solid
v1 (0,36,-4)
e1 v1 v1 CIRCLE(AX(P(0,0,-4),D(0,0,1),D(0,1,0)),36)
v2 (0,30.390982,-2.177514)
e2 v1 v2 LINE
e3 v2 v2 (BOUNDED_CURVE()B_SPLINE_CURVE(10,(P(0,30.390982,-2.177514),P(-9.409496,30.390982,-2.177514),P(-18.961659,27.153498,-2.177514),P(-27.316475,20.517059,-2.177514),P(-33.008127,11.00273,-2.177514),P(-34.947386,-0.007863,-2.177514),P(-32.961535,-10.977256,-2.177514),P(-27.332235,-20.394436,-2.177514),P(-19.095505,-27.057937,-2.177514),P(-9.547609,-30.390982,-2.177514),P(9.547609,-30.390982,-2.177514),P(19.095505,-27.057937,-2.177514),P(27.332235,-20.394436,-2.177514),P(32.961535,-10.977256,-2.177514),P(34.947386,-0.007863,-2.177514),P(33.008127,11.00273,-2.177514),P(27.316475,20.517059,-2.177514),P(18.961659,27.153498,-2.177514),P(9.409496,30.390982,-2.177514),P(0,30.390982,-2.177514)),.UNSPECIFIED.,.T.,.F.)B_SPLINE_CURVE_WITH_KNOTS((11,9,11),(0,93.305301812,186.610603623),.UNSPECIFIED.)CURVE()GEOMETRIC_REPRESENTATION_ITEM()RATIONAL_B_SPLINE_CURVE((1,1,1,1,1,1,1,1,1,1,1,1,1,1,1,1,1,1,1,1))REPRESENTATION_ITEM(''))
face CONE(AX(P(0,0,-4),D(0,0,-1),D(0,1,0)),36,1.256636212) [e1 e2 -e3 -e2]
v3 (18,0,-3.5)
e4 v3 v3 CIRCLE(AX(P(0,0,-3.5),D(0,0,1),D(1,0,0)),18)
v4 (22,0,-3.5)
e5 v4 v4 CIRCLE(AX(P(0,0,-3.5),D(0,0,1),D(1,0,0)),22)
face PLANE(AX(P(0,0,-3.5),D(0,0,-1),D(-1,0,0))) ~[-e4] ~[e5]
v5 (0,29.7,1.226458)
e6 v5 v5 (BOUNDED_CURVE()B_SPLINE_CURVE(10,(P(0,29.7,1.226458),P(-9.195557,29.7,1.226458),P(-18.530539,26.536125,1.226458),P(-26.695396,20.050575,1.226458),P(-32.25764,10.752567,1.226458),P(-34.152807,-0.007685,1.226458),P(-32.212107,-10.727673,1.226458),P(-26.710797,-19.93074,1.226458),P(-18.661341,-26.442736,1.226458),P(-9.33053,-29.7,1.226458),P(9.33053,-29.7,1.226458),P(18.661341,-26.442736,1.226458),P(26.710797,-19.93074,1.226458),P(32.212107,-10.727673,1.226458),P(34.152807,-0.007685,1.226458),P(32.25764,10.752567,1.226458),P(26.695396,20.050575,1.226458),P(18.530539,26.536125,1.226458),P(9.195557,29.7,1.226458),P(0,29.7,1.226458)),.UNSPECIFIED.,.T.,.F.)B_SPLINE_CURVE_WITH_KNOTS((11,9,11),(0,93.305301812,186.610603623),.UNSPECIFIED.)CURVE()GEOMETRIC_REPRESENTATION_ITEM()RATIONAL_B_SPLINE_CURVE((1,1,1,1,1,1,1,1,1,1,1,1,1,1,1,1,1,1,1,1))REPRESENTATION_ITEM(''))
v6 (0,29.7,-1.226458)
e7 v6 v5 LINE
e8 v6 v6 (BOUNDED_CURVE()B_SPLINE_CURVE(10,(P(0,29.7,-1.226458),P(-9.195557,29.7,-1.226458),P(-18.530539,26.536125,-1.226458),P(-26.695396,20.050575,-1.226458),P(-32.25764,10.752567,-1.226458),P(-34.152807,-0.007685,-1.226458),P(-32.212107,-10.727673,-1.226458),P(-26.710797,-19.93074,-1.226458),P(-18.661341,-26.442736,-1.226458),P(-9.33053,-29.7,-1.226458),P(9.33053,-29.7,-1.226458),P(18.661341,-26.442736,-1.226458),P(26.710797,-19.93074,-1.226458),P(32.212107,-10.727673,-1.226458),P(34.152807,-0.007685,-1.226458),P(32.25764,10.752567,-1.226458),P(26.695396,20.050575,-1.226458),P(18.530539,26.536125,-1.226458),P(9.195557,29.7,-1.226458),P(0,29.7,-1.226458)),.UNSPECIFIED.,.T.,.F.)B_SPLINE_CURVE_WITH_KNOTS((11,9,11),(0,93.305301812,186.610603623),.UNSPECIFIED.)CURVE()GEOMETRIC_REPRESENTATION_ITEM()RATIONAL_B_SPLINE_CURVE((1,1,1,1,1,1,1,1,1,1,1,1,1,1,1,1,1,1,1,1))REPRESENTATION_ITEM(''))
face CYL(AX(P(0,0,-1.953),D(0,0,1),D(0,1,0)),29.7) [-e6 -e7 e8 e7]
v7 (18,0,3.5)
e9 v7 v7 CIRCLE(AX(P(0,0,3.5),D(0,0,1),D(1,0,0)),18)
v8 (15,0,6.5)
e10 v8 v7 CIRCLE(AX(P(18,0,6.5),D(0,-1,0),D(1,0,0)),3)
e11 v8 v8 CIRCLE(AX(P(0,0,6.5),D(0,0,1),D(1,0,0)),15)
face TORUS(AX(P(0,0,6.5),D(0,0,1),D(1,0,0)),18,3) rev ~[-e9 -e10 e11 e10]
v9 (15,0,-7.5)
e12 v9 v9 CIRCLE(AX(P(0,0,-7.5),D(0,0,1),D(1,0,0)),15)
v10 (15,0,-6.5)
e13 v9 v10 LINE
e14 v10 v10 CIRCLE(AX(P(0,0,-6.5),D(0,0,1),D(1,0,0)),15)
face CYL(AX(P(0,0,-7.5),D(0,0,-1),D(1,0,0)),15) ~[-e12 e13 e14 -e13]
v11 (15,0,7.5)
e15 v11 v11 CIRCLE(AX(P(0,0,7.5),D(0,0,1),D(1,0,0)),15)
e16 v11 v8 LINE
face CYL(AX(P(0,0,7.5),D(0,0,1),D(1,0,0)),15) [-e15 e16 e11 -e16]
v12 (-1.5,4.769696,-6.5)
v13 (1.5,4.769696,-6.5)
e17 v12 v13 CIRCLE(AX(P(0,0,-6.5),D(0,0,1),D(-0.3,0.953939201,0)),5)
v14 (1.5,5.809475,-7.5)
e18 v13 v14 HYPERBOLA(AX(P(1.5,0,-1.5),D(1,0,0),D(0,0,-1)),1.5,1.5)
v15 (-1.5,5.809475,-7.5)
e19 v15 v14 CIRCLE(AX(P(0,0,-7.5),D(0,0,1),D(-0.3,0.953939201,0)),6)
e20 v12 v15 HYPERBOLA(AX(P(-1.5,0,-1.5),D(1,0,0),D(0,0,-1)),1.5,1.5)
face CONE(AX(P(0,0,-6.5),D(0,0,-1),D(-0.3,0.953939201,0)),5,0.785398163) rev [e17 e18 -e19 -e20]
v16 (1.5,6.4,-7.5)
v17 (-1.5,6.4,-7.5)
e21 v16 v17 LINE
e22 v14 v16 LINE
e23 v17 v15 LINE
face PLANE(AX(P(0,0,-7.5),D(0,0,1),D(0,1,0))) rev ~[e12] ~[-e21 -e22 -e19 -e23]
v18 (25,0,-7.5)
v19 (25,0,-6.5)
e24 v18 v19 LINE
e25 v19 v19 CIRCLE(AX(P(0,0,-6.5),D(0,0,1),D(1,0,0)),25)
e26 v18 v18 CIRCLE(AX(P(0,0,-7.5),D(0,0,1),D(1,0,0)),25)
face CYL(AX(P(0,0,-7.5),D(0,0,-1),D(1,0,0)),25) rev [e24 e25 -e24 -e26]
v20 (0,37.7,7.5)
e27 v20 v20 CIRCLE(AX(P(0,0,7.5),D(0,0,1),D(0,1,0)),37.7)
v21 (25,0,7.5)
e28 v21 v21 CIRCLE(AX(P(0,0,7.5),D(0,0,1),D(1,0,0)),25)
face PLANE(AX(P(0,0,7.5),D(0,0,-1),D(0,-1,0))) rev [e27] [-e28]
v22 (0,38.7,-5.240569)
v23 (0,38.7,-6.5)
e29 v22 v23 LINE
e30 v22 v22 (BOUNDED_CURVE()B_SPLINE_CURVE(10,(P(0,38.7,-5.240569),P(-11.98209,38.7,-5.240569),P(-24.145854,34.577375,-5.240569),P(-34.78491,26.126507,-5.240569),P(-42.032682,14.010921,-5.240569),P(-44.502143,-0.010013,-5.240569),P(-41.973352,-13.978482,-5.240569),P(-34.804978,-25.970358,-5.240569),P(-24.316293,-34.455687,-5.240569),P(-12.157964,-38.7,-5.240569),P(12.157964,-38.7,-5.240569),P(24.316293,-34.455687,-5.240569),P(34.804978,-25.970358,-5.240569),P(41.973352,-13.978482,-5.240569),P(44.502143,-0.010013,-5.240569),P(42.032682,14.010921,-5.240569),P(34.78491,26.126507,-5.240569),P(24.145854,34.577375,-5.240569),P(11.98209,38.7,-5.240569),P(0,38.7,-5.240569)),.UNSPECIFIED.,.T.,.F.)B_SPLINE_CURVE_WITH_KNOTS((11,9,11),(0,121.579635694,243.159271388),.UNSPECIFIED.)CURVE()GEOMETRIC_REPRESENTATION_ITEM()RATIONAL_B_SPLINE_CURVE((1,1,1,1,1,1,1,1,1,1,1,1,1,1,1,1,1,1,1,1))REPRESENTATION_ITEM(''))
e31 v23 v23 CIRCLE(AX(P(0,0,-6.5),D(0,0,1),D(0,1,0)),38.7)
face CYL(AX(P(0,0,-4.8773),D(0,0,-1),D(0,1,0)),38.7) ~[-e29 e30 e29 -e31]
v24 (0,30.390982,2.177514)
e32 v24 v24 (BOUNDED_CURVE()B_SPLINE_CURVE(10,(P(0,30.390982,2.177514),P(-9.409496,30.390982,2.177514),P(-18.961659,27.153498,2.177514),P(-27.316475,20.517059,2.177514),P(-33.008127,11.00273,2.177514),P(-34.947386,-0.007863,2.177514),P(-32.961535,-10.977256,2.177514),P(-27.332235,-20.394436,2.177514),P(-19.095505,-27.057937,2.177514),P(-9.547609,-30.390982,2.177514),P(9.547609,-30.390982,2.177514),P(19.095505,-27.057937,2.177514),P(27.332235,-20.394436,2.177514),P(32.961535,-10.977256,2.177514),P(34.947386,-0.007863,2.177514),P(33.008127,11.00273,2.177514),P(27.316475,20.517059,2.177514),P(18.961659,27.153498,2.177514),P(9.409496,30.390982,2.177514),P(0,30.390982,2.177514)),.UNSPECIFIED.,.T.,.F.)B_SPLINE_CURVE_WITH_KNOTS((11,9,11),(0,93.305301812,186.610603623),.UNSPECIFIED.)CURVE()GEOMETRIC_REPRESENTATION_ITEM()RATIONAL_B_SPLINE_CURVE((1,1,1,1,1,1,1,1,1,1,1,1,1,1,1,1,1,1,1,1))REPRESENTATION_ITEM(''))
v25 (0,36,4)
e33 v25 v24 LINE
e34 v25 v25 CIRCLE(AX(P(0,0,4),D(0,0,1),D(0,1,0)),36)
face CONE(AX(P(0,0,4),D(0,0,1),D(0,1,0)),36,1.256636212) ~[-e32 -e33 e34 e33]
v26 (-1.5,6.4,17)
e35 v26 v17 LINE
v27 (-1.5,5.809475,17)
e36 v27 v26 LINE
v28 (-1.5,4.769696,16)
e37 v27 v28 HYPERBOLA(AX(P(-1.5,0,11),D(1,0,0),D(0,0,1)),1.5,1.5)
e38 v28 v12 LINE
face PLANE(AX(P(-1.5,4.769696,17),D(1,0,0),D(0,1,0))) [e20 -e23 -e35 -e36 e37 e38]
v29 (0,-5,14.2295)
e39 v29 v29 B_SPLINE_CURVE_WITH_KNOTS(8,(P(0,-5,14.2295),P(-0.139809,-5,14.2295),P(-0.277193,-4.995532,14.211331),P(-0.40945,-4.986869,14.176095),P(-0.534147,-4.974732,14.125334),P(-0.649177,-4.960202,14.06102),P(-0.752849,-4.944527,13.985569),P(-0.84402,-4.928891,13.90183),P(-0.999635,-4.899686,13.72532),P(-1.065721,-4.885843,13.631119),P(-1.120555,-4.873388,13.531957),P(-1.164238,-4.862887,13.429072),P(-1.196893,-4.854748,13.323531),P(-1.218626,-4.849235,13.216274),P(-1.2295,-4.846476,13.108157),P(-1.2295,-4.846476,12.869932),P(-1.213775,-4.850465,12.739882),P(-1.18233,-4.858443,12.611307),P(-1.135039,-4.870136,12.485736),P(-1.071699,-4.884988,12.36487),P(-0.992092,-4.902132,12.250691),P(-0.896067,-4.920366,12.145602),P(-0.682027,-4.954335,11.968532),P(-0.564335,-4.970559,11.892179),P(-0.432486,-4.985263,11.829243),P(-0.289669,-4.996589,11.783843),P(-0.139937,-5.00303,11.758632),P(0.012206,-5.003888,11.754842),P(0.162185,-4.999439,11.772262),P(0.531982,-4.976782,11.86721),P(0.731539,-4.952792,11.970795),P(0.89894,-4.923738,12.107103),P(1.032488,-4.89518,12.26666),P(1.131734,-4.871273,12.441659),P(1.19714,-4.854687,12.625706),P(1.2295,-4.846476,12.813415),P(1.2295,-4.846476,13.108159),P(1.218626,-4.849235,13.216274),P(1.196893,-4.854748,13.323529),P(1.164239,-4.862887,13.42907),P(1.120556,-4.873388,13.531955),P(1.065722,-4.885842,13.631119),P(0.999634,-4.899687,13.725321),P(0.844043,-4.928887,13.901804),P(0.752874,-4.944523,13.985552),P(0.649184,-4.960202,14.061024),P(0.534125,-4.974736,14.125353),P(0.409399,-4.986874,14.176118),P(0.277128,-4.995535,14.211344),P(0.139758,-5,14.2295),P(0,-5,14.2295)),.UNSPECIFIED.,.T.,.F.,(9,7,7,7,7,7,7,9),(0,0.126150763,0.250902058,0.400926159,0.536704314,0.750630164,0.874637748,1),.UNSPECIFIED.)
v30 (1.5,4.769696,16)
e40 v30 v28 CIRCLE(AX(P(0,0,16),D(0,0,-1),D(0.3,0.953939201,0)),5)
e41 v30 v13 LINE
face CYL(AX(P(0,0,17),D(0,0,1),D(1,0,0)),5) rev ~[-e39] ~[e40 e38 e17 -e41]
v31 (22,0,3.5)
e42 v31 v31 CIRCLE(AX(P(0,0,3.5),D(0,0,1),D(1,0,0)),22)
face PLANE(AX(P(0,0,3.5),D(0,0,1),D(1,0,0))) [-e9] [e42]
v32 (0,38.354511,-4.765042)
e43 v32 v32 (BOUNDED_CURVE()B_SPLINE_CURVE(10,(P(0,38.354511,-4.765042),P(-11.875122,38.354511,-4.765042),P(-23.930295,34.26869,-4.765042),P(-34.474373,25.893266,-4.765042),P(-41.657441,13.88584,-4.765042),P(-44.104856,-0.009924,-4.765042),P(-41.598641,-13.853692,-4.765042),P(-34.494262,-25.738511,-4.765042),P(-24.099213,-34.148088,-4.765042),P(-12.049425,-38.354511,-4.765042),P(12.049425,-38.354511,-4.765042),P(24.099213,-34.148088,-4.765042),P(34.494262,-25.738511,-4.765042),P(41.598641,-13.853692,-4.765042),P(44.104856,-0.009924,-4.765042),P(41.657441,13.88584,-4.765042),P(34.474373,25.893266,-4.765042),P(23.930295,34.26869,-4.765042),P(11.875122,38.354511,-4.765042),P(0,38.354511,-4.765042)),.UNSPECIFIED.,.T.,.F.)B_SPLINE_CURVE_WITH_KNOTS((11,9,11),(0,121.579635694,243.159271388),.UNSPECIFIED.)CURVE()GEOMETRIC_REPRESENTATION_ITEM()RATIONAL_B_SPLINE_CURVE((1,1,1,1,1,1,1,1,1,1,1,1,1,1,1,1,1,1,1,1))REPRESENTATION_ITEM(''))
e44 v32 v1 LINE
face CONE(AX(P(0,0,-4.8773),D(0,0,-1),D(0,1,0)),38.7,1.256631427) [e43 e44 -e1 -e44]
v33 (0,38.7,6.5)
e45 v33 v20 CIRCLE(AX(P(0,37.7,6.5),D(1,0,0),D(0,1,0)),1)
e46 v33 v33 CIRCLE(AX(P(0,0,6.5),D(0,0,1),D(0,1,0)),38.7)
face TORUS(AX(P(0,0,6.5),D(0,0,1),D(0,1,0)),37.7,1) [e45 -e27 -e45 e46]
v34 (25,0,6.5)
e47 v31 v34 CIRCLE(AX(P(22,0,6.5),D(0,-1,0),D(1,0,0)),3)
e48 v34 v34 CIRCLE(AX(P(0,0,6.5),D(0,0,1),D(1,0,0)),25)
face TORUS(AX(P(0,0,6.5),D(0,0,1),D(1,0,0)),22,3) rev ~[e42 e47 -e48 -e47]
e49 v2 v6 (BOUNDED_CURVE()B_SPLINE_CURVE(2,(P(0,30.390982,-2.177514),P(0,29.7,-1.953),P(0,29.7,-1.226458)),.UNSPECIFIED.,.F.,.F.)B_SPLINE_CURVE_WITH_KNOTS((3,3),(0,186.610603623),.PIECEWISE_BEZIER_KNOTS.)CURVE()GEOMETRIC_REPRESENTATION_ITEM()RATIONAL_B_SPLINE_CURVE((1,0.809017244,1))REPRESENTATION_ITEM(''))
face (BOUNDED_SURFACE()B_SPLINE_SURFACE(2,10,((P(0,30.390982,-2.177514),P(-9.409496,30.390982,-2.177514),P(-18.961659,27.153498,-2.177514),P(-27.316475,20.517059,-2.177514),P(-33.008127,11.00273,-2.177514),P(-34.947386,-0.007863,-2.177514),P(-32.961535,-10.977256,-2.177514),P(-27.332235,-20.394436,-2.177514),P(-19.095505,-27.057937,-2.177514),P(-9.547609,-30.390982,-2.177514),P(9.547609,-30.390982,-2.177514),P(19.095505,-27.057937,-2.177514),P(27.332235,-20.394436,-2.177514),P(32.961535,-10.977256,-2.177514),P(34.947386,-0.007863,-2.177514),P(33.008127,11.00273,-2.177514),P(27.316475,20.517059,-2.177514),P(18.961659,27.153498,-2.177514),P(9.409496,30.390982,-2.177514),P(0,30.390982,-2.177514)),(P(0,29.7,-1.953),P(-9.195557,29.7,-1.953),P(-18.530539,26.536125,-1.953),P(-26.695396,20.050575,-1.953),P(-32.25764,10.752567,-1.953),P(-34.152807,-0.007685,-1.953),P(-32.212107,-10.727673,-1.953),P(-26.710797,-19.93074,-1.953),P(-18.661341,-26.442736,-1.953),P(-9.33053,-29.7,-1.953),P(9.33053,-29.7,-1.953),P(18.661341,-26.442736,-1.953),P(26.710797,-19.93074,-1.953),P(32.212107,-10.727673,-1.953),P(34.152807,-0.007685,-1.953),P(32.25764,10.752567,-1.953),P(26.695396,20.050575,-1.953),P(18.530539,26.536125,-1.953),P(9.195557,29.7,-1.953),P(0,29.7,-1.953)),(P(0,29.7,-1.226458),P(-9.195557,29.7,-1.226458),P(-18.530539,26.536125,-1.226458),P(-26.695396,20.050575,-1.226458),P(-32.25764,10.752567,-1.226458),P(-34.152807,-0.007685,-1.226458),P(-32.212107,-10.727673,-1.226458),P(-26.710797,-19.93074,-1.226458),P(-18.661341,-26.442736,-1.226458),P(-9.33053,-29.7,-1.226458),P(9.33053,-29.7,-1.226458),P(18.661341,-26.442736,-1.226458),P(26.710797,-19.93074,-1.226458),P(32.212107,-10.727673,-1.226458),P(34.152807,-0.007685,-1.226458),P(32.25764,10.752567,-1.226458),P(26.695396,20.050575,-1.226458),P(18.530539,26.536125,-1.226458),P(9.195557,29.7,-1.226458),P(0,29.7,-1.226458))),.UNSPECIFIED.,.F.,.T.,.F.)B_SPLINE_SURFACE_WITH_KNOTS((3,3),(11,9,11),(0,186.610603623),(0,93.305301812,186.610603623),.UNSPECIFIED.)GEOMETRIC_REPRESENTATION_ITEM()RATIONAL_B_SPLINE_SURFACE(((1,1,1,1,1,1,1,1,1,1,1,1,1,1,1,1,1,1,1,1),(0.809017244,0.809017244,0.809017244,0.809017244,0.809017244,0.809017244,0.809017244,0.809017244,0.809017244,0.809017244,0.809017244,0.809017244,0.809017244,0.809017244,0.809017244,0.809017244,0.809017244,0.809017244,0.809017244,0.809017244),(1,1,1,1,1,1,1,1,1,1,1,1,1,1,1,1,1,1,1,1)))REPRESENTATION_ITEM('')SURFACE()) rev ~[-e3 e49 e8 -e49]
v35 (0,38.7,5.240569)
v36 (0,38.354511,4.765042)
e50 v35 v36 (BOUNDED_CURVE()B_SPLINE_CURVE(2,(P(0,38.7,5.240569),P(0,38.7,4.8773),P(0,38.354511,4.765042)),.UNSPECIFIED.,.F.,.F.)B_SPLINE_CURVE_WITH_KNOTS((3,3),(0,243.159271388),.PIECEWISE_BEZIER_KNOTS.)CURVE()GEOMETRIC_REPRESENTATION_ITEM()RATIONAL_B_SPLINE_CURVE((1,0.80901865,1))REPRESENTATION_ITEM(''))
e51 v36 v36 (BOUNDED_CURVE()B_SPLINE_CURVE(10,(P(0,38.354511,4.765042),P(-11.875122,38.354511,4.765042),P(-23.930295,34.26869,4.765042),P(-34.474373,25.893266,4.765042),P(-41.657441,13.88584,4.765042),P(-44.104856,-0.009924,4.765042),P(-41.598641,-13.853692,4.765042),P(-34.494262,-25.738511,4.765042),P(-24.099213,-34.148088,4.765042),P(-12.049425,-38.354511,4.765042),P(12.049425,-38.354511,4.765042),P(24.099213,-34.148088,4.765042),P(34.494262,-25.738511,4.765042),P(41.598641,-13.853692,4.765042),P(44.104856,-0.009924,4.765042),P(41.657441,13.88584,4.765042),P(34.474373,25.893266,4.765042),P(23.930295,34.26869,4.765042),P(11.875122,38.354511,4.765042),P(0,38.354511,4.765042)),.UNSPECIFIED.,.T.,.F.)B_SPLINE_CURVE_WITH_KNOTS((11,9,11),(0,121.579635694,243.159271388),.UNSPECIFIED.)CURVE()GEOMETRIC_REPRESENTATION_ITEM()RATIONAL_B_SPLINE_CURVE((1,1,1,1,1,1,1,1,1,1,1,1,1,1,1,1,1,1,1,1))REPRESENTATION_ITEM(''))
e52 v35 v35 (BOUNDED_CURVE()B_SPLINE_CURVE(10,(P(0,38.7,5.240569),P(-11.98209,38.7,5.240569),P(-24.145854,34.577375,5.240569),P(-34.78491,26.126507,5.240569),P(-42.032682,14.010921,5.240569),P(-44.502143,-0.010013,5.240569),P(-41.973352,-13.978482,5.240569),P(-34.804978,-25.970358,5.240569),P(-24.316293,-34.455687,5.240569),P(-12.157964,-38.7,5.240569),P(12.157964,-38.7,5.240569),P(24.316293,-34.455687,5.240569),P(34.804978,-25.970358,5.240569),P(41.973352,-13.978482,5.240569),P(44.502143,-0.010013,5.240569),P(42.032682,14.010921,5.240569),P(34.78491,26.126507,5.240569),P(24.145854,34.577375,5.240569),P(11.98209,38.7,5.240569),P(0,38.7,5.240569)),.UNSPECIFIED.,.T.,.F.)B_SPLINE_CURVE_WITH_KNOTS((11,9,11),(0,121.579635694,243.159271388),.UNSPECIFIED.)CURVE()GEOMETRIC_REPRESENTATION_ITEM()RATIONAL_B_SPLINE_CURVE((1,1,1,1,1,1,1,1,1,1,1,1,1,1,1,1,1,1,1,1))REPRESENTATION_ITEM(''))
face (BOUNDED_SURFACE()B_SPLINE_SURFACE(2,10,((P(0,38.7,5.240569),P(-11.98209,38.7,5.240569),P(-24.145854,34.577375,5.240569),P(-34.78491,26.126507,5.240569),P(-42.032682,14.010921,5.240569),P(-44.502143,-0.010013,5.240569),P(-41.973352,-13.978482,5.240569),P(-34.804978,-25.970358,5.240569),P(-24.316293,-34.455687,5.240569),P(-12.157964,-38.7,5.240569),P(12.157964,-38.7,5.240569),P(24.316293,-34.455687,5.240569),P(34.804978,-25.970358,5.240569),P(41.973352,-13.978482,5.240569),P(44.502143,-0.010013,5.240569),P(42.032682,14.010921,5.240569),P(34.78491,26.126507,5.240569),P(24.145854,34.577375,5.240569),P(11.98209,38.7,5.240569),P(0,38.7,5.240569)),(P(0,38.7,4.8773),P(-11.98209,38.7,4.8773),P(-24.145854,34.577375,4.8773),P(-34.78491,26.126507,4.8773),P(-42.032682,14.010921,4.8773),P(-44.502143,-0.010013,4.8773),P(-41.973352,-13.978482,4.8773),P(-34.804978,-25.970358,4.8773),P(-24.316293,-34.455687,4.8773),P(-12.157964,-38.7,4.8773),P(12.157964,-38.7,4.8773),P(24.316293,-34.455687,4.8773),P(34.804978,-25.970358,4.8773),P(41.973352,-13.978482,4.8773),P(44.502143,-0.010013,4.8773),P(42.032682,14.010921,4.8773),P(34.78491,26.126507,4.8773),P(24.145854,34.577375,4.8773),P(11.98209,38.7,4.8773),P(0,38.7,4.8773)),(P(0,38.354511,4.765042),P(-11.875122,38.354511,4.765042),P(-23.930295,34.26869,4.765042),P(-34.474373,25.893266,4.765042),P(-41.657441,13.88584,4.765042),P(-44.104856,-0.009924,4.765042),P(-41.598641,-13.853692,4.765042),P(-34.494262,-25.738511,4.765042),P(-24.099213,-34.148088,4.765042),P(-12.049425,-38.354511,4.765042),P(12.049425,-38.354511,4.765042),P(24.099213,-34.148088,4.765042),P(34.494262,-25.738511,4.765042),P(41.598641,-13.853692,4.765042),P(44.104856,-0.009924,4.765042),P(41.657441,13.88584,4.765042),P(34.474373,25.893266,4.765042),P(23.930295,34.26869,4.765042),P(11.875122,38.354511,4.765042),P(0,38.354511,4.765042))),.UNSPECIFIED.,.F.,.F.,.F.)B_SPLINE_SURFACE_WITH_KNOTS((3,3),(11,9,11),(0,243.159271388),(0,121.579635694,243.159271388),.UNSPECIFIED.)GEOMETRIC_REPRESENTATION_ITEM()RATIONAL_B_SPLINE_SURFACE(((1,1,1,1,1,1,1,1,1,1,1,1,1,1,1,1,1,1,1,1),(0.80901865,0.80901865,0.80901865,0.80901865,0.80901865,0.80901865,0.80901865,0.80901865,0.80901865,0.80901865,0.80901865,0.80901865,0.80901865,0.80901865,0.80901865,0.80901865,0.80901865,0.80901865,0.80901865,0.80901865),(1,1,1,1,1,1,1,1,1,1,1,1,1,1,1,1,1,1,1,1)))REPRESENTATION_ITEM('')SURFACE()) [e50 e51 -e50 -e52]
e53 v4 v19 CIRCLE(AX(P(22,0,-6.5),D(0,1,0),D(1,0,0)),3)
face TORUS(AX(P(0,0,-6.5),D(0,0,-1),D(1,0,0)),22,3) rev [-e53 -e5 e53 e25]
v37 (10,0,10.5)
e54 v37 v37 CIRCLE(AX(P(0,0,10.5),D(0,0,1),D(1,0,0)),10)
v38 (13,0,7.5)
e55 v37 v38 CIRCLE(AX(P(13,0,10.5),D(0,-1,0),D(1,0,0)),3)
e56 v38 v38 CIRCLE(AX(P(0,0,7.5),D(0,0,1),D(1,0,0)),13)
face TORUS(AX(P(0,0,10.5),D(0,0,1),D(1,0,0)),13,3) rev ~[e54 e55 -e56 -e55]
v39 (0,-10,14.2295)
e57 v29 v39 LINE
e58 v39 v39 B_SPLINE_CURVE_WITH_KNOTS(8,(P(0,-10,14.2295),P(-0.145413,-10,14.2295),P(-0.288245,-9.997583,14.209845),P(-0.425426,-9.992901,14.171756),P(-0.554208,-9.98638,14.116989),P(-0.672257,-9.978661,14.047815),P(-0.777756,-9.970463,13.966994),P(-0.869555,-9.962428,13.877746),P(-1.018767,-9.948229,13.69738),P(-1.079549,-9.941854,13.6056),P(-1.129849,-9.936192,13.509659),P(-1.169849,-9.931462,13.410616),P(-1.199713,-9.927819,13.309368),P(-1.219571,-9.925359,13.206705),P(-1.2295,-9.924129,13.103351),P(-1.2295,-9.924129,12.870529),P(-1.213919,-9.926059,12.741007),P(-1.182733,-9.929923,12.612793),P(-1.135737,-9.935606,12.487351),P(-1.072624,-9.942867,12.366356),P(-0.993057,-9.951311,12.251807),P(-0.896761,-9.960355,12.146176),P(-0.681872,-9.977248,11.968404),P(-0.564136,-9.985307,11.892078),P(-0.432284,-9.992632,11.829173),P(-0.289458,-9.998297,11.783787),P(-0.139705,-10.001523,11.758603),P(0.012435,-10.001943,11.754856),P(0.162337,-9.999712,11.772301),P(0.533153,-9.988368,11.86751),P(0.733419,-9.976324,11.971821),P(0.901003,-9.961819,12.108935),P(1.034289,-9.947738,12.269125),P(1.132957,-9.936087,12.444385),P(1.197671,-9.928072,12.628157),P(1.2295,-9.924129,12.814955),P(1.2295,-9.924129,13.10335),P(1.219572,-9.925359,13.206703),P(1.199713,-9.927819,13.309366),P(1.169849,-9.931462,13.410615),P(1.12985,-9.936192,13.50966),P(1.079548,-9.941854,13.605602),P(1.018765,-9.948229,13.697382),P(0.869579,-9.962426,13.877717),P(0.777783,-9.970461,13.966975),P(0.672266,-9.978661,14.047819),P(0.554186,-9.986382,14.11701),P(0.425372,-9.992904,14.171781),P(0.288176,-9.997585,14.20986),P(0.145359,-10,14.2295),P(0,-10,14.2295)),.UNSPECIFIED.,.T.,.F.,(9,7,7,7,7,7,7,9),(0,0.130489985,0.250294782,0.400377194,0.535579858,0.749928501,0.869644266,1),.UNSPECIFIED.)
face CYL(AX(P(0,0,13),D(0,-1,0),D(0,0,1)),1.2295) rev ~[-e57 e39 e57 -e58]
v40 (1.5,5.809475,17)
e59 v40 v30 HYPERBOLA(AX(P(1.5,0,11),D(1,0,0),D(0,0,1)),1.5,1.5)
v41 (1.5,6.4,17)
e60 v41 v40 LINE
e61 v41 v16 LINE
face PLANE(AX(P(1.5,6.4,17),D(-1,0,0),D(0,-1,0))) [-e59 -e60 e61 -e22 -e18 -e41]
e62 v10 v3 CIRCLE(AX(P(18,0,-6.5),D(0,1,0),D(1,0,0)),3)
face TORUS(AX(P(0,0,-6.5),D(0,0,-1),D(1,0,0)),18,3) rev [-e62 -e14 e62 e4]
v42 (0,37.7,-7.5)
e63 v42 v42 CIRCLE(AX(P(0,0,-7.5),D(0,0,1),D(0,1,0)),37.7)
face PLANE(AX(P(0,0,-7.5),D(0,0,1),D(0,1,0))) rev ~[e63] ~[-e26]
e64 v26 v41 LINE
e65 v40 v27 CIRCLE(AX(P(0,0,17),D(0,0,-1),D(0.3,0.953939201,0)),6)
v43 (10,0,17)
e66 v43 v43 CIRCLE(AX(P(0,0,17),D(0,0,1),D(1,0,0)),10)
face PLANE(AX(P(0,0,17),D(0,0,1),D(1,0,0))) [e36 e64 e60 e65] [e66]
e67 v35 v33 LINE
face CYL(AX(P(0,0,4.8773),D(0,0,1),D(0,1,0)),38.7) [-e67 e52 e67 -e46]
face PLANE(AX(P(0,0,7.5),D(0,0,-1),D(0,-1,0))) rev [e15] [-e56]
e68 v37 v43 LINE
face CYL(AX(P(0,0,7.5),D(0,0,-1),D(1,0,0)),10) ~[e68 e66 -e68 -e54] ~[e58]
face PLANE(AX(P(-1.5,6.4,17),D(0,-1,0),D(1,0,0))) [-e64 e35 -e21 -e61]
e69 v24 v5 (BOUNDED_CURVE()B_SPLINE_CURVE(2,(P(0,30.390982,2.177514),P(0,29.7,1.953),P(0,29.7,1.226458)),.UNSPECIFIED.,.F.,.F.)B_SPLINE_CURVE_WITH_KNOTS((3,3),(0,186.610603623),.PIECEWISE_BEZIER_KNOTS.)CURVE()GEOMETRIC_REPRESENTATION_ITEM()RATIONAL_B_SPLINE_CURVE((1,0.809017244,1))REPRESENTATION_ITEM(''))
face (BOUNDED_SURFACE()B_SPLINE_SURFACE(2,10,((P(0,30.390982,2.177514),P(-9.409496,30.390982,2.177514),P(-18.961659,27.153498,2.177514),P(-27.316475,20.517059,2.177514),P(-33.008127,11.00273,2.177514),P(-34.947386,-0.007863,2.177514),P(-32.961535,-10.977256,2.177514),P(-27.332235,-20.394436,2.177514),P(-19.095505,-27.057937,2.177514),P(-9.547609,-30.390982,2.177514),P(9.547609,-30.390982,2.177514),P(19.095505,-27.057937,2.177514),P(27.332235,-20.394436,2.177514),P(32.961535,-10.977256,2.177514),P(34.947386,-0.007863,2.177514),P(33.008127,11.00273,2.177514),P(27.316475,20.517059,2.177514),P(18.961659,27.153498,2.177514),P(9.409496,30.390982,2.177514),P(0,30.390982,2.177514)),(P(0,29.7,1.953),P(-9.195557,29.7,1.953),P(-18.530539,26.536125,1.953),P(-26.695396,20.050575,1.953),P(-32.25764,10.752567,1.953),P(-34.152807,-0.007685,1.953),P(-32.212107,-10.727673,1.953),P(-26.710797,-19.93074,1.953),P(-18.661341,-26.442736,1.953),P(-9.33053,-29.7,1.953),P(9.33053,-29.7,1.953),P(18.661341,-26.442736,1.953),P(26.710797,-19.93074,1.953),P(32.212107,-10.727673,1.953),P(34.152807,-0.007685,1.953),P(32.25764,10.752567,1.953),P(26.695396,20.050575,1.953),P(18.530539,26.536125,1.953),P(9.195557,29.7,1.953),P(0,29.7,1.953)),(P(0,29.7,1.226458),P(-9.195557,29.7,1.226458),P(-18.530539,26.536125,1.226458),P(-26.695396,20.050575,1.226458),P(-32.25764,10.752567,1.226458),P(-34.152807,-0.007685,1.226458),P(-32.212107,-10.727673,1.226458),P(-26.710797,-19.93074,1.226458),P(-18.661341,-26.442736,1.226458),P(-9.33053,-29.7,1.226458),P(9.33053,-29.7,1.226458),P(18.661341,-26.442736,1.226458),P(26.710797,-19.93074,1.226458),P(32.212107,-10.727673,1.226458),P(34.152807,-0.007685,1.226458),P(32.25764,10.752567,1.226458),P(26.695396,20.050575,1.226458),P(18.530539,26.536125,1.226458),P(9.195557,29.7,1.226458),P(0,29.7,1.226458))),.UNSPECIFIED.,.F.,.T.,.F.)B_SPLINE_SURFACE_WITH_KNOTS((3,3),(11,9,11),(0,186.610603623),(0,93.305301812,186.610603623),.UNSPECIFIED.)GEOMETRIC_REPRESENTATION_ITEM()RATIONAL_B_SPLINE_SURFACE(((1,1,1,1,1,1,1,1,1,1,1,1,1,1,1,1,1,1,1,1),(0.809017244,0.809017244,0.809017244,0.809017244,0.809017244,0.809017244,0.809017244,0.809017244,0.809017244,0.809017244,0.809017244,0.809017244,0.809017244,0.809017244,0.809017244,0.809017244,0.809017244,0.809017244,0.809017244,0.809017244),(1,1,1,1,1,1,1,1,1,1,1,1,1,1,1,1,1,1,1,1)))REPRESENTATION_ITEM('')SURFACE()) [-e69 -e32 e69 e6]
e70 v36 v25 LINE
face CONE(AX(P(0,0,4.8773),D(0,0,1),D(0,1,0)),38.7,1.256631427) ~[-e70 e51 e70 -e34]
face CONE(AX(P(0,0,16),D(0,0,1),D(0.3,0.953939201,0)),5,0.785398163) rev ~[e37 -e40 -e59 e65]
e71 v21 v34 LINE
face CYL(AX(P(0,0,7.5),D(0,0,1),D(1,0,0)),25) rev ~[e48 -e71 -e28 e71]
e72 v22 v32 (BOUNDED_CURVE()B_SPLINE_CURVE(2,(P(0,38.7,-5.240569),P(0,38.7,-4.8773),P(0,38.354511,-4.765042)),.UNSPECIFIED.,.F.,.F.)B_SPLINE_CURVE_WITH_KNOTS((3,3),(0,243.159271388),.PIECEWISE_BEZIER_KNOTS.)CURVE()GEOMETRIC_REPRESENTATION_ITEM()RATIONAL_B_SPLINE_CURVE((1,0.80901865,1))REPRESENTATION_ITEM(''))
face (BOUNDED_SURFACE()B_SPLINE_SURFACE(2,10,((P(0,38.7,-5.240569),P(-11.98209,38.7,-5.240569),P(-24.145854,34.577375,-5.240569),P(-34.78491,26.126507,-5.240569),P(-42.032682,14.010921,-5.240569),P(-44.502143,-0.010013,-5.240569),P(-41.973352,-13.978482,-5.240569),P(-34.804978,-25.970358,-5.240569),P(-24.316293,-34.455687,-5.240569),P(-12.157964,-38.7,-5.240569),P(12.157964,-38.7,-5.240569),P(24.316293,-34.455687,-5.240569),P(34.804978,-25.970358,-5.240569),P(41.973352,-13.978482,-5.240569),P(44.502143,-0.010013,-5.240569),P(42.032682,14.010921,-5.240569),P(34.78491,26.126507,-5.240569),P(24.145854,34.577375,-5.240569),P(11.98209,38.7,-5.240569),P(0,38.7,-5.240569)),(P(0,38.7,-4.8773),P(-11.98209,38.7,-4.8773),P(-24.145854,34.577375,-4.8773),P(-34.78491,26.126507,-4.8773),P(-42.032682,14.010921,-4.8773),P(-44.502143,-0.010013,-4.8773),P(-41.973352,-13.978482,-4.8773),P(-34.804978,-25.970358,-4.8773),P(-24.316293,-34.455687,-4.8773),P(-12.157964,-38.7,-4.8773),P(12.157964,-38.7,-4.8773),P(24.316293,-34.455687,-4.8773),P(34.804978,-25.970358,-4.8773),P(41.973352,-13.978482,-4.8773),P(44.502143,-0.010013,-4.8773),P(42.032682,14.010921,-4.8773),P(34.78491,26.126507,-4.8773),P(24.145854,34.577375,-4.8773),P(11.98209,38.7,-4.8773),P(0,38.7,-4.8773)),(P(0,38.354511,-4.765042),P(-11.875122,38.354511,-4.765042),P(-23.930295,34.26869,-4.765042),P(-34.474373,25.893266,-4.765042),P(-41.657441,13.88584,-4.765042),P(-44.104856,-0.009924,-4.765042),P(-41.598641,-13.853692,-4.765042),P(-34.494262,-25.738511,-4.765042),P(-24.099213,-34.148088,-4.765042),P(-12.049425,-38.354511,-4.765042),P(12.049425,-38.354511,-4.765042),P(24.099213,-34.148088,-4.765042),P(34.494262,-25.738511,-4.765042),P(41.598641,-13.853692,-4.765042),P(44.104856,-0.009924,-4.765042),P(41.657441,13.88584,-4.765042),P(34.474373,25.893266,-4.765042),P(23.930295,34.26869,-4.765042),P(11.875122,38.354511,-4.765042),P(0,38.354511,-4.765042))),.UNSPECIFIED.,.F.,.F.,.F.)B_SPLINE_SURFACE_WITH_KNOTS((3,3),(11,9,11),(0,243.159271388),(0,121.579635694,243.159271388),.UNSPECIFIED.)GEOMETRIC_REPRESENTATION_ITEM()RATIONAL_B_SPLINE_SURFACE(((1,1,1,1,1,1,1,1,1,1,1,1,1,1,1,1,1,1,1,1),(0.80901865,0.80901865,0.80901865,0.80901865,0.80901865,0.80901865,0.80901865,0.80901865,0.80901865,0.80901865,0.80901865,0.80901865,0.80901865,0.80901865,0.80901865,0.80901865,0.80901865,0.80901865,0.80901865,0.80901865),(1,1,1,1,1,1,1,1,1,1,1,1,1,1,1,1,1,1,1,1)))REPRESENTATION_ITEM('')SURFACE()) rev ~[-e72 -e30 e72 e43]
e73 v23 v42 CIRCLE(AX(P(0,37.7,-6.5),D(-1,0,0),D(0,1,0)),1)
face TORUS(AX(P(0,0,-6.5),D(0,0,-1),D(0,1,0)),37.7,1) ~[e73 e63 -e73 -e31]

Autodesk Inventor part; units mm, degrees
ref_plane "YZ Plane" through (0, 0, 0) normal (1, 0, 0) x (0, 1, 0)
ref_plane "XZ Plane" through (0, 0, 0) normal (0, 1, 0) x (-1, 0, 0)
ref_plane "XY Plane" through (0, 0, 0) normal (0, 0, 1) x (1, 0, 0)
sketch "스케치1" plane through (0, 0, 0) normal (1, 0, 0) x (0, 1, 0)
  line L0 (38.7, -4.8773) -> (36, -4)
  line L1 (36, -4) -> (29.7, -1.953)
  line L2 (29.7, -1.953) -> (29.7, 0)
  line L3 (29.7, 0) -> (0, 0)
  line L4 (38.7, -4.8773) -> (38.7, -7.5)
  line L5 (38.7, -7.5) -> (0, -7.5)
  line L6 (0, -7.5) -> (0, 0)
  dimension "d1" = 7.5
  dimension "d3" = 72
  dimension "d4" = 18
  dimension "d5" = 4
  dimension "d6" = 2.7
  dimension "d7" = 6.3
revolve "회전1" add sketch "스케치1" angle 360 about axis through (0, 0, -7.5) along (0, 0, 1)
fillet "모깎기1" radius 0.5 1 edges at (0, -38.7, -4.8773)
fillet "모깎기2" radius 1 2 edges at (0, -29.7, -1.953) (0, -38.7, -7.5)
mirror "미러1" about plane through (0, 29.7, 0) normal (0, 0, 1) of "회전1", "모깎기2", "모깎기1"
sketch "스케치2" plane through (0, 0, 7.5) normal (0, 0, 1) x (1, 0, 0)
  circle A0 centre (0, 0) radius 10
  dimension "d11" = 20
extrude "돌출1" add sketch "스케치2" along normal blind 9.5
sketch "스케치3" plane through (0, 0, 17) normal (0, 0, 1) x (1, 0, 0)
  circle A0 centre (0, 0) radius 5
  line L0 (-1.5, 6.4) -> (1.5, 6.4)
  line L1 (1.5, 6.4) -> (1.5, 0)
  line L2 (1.5, 0) -> (-1.5, 0)
  line L3 (-1.5, 0) -> (-1.5, 6.4)
  point P0 (0, 0)
  dimension "d14" = 10
  dimension "d15" = 3
  dimension "d16" = 1.5
  dimension "d17" = 1.4
extrude "돌출2" cut sketch "스케치3" against normal up to next
chamfer "모따기1" distance 1 angle 45 2 edges at (0, -5, 17) (0, -5, -7.5)
sketch "스케치4" plane through (0, 0, 7.5) normal (0, 0, 1) x (1, 0, 0)
  circle A0 centre (0, 0) radius 15
  circle A1 centre (0, 0) radius 25
  dimension "d23" = 30
  dimension "d24" = 50
extrude "돌출3" cut sketch "스케치4" against normal blind 4
mirror "미러2" about plane through (0, 0, 0) normal (0, 0, 1) of "돌출3"
fillet "모깎기3" radius 3 5 edges at (-25, 0, 3.5) (-15, 0, 3.5) (-15, 0, -3.5) (-25, 0, -3.5) (-10, 0, 7.5)
sketch "스케치5" plane through (0, 0, 0) normal (0, 1, 0) x (-1, 0, 0)
  circle A0 centre (0, 13) radius 1.5
  line L0 (6, 17) -> (-6, 17) projected
  point P0 (0, 0)
  point P1 (1.5, 17)
  point P2 (-1.5, 17)
  dimension "d28" = 3
  dimension "d36" = 4
hole "구멍1" at (0, 0, 13) direction (0, -1, 0) diameter 2.459 end through all thread size "M3x0.5" class "6H" standard "ANSI Metric M Profile"
equation "\"d16\" = 0.5 * d15"
properties part number "도면2-4번"
